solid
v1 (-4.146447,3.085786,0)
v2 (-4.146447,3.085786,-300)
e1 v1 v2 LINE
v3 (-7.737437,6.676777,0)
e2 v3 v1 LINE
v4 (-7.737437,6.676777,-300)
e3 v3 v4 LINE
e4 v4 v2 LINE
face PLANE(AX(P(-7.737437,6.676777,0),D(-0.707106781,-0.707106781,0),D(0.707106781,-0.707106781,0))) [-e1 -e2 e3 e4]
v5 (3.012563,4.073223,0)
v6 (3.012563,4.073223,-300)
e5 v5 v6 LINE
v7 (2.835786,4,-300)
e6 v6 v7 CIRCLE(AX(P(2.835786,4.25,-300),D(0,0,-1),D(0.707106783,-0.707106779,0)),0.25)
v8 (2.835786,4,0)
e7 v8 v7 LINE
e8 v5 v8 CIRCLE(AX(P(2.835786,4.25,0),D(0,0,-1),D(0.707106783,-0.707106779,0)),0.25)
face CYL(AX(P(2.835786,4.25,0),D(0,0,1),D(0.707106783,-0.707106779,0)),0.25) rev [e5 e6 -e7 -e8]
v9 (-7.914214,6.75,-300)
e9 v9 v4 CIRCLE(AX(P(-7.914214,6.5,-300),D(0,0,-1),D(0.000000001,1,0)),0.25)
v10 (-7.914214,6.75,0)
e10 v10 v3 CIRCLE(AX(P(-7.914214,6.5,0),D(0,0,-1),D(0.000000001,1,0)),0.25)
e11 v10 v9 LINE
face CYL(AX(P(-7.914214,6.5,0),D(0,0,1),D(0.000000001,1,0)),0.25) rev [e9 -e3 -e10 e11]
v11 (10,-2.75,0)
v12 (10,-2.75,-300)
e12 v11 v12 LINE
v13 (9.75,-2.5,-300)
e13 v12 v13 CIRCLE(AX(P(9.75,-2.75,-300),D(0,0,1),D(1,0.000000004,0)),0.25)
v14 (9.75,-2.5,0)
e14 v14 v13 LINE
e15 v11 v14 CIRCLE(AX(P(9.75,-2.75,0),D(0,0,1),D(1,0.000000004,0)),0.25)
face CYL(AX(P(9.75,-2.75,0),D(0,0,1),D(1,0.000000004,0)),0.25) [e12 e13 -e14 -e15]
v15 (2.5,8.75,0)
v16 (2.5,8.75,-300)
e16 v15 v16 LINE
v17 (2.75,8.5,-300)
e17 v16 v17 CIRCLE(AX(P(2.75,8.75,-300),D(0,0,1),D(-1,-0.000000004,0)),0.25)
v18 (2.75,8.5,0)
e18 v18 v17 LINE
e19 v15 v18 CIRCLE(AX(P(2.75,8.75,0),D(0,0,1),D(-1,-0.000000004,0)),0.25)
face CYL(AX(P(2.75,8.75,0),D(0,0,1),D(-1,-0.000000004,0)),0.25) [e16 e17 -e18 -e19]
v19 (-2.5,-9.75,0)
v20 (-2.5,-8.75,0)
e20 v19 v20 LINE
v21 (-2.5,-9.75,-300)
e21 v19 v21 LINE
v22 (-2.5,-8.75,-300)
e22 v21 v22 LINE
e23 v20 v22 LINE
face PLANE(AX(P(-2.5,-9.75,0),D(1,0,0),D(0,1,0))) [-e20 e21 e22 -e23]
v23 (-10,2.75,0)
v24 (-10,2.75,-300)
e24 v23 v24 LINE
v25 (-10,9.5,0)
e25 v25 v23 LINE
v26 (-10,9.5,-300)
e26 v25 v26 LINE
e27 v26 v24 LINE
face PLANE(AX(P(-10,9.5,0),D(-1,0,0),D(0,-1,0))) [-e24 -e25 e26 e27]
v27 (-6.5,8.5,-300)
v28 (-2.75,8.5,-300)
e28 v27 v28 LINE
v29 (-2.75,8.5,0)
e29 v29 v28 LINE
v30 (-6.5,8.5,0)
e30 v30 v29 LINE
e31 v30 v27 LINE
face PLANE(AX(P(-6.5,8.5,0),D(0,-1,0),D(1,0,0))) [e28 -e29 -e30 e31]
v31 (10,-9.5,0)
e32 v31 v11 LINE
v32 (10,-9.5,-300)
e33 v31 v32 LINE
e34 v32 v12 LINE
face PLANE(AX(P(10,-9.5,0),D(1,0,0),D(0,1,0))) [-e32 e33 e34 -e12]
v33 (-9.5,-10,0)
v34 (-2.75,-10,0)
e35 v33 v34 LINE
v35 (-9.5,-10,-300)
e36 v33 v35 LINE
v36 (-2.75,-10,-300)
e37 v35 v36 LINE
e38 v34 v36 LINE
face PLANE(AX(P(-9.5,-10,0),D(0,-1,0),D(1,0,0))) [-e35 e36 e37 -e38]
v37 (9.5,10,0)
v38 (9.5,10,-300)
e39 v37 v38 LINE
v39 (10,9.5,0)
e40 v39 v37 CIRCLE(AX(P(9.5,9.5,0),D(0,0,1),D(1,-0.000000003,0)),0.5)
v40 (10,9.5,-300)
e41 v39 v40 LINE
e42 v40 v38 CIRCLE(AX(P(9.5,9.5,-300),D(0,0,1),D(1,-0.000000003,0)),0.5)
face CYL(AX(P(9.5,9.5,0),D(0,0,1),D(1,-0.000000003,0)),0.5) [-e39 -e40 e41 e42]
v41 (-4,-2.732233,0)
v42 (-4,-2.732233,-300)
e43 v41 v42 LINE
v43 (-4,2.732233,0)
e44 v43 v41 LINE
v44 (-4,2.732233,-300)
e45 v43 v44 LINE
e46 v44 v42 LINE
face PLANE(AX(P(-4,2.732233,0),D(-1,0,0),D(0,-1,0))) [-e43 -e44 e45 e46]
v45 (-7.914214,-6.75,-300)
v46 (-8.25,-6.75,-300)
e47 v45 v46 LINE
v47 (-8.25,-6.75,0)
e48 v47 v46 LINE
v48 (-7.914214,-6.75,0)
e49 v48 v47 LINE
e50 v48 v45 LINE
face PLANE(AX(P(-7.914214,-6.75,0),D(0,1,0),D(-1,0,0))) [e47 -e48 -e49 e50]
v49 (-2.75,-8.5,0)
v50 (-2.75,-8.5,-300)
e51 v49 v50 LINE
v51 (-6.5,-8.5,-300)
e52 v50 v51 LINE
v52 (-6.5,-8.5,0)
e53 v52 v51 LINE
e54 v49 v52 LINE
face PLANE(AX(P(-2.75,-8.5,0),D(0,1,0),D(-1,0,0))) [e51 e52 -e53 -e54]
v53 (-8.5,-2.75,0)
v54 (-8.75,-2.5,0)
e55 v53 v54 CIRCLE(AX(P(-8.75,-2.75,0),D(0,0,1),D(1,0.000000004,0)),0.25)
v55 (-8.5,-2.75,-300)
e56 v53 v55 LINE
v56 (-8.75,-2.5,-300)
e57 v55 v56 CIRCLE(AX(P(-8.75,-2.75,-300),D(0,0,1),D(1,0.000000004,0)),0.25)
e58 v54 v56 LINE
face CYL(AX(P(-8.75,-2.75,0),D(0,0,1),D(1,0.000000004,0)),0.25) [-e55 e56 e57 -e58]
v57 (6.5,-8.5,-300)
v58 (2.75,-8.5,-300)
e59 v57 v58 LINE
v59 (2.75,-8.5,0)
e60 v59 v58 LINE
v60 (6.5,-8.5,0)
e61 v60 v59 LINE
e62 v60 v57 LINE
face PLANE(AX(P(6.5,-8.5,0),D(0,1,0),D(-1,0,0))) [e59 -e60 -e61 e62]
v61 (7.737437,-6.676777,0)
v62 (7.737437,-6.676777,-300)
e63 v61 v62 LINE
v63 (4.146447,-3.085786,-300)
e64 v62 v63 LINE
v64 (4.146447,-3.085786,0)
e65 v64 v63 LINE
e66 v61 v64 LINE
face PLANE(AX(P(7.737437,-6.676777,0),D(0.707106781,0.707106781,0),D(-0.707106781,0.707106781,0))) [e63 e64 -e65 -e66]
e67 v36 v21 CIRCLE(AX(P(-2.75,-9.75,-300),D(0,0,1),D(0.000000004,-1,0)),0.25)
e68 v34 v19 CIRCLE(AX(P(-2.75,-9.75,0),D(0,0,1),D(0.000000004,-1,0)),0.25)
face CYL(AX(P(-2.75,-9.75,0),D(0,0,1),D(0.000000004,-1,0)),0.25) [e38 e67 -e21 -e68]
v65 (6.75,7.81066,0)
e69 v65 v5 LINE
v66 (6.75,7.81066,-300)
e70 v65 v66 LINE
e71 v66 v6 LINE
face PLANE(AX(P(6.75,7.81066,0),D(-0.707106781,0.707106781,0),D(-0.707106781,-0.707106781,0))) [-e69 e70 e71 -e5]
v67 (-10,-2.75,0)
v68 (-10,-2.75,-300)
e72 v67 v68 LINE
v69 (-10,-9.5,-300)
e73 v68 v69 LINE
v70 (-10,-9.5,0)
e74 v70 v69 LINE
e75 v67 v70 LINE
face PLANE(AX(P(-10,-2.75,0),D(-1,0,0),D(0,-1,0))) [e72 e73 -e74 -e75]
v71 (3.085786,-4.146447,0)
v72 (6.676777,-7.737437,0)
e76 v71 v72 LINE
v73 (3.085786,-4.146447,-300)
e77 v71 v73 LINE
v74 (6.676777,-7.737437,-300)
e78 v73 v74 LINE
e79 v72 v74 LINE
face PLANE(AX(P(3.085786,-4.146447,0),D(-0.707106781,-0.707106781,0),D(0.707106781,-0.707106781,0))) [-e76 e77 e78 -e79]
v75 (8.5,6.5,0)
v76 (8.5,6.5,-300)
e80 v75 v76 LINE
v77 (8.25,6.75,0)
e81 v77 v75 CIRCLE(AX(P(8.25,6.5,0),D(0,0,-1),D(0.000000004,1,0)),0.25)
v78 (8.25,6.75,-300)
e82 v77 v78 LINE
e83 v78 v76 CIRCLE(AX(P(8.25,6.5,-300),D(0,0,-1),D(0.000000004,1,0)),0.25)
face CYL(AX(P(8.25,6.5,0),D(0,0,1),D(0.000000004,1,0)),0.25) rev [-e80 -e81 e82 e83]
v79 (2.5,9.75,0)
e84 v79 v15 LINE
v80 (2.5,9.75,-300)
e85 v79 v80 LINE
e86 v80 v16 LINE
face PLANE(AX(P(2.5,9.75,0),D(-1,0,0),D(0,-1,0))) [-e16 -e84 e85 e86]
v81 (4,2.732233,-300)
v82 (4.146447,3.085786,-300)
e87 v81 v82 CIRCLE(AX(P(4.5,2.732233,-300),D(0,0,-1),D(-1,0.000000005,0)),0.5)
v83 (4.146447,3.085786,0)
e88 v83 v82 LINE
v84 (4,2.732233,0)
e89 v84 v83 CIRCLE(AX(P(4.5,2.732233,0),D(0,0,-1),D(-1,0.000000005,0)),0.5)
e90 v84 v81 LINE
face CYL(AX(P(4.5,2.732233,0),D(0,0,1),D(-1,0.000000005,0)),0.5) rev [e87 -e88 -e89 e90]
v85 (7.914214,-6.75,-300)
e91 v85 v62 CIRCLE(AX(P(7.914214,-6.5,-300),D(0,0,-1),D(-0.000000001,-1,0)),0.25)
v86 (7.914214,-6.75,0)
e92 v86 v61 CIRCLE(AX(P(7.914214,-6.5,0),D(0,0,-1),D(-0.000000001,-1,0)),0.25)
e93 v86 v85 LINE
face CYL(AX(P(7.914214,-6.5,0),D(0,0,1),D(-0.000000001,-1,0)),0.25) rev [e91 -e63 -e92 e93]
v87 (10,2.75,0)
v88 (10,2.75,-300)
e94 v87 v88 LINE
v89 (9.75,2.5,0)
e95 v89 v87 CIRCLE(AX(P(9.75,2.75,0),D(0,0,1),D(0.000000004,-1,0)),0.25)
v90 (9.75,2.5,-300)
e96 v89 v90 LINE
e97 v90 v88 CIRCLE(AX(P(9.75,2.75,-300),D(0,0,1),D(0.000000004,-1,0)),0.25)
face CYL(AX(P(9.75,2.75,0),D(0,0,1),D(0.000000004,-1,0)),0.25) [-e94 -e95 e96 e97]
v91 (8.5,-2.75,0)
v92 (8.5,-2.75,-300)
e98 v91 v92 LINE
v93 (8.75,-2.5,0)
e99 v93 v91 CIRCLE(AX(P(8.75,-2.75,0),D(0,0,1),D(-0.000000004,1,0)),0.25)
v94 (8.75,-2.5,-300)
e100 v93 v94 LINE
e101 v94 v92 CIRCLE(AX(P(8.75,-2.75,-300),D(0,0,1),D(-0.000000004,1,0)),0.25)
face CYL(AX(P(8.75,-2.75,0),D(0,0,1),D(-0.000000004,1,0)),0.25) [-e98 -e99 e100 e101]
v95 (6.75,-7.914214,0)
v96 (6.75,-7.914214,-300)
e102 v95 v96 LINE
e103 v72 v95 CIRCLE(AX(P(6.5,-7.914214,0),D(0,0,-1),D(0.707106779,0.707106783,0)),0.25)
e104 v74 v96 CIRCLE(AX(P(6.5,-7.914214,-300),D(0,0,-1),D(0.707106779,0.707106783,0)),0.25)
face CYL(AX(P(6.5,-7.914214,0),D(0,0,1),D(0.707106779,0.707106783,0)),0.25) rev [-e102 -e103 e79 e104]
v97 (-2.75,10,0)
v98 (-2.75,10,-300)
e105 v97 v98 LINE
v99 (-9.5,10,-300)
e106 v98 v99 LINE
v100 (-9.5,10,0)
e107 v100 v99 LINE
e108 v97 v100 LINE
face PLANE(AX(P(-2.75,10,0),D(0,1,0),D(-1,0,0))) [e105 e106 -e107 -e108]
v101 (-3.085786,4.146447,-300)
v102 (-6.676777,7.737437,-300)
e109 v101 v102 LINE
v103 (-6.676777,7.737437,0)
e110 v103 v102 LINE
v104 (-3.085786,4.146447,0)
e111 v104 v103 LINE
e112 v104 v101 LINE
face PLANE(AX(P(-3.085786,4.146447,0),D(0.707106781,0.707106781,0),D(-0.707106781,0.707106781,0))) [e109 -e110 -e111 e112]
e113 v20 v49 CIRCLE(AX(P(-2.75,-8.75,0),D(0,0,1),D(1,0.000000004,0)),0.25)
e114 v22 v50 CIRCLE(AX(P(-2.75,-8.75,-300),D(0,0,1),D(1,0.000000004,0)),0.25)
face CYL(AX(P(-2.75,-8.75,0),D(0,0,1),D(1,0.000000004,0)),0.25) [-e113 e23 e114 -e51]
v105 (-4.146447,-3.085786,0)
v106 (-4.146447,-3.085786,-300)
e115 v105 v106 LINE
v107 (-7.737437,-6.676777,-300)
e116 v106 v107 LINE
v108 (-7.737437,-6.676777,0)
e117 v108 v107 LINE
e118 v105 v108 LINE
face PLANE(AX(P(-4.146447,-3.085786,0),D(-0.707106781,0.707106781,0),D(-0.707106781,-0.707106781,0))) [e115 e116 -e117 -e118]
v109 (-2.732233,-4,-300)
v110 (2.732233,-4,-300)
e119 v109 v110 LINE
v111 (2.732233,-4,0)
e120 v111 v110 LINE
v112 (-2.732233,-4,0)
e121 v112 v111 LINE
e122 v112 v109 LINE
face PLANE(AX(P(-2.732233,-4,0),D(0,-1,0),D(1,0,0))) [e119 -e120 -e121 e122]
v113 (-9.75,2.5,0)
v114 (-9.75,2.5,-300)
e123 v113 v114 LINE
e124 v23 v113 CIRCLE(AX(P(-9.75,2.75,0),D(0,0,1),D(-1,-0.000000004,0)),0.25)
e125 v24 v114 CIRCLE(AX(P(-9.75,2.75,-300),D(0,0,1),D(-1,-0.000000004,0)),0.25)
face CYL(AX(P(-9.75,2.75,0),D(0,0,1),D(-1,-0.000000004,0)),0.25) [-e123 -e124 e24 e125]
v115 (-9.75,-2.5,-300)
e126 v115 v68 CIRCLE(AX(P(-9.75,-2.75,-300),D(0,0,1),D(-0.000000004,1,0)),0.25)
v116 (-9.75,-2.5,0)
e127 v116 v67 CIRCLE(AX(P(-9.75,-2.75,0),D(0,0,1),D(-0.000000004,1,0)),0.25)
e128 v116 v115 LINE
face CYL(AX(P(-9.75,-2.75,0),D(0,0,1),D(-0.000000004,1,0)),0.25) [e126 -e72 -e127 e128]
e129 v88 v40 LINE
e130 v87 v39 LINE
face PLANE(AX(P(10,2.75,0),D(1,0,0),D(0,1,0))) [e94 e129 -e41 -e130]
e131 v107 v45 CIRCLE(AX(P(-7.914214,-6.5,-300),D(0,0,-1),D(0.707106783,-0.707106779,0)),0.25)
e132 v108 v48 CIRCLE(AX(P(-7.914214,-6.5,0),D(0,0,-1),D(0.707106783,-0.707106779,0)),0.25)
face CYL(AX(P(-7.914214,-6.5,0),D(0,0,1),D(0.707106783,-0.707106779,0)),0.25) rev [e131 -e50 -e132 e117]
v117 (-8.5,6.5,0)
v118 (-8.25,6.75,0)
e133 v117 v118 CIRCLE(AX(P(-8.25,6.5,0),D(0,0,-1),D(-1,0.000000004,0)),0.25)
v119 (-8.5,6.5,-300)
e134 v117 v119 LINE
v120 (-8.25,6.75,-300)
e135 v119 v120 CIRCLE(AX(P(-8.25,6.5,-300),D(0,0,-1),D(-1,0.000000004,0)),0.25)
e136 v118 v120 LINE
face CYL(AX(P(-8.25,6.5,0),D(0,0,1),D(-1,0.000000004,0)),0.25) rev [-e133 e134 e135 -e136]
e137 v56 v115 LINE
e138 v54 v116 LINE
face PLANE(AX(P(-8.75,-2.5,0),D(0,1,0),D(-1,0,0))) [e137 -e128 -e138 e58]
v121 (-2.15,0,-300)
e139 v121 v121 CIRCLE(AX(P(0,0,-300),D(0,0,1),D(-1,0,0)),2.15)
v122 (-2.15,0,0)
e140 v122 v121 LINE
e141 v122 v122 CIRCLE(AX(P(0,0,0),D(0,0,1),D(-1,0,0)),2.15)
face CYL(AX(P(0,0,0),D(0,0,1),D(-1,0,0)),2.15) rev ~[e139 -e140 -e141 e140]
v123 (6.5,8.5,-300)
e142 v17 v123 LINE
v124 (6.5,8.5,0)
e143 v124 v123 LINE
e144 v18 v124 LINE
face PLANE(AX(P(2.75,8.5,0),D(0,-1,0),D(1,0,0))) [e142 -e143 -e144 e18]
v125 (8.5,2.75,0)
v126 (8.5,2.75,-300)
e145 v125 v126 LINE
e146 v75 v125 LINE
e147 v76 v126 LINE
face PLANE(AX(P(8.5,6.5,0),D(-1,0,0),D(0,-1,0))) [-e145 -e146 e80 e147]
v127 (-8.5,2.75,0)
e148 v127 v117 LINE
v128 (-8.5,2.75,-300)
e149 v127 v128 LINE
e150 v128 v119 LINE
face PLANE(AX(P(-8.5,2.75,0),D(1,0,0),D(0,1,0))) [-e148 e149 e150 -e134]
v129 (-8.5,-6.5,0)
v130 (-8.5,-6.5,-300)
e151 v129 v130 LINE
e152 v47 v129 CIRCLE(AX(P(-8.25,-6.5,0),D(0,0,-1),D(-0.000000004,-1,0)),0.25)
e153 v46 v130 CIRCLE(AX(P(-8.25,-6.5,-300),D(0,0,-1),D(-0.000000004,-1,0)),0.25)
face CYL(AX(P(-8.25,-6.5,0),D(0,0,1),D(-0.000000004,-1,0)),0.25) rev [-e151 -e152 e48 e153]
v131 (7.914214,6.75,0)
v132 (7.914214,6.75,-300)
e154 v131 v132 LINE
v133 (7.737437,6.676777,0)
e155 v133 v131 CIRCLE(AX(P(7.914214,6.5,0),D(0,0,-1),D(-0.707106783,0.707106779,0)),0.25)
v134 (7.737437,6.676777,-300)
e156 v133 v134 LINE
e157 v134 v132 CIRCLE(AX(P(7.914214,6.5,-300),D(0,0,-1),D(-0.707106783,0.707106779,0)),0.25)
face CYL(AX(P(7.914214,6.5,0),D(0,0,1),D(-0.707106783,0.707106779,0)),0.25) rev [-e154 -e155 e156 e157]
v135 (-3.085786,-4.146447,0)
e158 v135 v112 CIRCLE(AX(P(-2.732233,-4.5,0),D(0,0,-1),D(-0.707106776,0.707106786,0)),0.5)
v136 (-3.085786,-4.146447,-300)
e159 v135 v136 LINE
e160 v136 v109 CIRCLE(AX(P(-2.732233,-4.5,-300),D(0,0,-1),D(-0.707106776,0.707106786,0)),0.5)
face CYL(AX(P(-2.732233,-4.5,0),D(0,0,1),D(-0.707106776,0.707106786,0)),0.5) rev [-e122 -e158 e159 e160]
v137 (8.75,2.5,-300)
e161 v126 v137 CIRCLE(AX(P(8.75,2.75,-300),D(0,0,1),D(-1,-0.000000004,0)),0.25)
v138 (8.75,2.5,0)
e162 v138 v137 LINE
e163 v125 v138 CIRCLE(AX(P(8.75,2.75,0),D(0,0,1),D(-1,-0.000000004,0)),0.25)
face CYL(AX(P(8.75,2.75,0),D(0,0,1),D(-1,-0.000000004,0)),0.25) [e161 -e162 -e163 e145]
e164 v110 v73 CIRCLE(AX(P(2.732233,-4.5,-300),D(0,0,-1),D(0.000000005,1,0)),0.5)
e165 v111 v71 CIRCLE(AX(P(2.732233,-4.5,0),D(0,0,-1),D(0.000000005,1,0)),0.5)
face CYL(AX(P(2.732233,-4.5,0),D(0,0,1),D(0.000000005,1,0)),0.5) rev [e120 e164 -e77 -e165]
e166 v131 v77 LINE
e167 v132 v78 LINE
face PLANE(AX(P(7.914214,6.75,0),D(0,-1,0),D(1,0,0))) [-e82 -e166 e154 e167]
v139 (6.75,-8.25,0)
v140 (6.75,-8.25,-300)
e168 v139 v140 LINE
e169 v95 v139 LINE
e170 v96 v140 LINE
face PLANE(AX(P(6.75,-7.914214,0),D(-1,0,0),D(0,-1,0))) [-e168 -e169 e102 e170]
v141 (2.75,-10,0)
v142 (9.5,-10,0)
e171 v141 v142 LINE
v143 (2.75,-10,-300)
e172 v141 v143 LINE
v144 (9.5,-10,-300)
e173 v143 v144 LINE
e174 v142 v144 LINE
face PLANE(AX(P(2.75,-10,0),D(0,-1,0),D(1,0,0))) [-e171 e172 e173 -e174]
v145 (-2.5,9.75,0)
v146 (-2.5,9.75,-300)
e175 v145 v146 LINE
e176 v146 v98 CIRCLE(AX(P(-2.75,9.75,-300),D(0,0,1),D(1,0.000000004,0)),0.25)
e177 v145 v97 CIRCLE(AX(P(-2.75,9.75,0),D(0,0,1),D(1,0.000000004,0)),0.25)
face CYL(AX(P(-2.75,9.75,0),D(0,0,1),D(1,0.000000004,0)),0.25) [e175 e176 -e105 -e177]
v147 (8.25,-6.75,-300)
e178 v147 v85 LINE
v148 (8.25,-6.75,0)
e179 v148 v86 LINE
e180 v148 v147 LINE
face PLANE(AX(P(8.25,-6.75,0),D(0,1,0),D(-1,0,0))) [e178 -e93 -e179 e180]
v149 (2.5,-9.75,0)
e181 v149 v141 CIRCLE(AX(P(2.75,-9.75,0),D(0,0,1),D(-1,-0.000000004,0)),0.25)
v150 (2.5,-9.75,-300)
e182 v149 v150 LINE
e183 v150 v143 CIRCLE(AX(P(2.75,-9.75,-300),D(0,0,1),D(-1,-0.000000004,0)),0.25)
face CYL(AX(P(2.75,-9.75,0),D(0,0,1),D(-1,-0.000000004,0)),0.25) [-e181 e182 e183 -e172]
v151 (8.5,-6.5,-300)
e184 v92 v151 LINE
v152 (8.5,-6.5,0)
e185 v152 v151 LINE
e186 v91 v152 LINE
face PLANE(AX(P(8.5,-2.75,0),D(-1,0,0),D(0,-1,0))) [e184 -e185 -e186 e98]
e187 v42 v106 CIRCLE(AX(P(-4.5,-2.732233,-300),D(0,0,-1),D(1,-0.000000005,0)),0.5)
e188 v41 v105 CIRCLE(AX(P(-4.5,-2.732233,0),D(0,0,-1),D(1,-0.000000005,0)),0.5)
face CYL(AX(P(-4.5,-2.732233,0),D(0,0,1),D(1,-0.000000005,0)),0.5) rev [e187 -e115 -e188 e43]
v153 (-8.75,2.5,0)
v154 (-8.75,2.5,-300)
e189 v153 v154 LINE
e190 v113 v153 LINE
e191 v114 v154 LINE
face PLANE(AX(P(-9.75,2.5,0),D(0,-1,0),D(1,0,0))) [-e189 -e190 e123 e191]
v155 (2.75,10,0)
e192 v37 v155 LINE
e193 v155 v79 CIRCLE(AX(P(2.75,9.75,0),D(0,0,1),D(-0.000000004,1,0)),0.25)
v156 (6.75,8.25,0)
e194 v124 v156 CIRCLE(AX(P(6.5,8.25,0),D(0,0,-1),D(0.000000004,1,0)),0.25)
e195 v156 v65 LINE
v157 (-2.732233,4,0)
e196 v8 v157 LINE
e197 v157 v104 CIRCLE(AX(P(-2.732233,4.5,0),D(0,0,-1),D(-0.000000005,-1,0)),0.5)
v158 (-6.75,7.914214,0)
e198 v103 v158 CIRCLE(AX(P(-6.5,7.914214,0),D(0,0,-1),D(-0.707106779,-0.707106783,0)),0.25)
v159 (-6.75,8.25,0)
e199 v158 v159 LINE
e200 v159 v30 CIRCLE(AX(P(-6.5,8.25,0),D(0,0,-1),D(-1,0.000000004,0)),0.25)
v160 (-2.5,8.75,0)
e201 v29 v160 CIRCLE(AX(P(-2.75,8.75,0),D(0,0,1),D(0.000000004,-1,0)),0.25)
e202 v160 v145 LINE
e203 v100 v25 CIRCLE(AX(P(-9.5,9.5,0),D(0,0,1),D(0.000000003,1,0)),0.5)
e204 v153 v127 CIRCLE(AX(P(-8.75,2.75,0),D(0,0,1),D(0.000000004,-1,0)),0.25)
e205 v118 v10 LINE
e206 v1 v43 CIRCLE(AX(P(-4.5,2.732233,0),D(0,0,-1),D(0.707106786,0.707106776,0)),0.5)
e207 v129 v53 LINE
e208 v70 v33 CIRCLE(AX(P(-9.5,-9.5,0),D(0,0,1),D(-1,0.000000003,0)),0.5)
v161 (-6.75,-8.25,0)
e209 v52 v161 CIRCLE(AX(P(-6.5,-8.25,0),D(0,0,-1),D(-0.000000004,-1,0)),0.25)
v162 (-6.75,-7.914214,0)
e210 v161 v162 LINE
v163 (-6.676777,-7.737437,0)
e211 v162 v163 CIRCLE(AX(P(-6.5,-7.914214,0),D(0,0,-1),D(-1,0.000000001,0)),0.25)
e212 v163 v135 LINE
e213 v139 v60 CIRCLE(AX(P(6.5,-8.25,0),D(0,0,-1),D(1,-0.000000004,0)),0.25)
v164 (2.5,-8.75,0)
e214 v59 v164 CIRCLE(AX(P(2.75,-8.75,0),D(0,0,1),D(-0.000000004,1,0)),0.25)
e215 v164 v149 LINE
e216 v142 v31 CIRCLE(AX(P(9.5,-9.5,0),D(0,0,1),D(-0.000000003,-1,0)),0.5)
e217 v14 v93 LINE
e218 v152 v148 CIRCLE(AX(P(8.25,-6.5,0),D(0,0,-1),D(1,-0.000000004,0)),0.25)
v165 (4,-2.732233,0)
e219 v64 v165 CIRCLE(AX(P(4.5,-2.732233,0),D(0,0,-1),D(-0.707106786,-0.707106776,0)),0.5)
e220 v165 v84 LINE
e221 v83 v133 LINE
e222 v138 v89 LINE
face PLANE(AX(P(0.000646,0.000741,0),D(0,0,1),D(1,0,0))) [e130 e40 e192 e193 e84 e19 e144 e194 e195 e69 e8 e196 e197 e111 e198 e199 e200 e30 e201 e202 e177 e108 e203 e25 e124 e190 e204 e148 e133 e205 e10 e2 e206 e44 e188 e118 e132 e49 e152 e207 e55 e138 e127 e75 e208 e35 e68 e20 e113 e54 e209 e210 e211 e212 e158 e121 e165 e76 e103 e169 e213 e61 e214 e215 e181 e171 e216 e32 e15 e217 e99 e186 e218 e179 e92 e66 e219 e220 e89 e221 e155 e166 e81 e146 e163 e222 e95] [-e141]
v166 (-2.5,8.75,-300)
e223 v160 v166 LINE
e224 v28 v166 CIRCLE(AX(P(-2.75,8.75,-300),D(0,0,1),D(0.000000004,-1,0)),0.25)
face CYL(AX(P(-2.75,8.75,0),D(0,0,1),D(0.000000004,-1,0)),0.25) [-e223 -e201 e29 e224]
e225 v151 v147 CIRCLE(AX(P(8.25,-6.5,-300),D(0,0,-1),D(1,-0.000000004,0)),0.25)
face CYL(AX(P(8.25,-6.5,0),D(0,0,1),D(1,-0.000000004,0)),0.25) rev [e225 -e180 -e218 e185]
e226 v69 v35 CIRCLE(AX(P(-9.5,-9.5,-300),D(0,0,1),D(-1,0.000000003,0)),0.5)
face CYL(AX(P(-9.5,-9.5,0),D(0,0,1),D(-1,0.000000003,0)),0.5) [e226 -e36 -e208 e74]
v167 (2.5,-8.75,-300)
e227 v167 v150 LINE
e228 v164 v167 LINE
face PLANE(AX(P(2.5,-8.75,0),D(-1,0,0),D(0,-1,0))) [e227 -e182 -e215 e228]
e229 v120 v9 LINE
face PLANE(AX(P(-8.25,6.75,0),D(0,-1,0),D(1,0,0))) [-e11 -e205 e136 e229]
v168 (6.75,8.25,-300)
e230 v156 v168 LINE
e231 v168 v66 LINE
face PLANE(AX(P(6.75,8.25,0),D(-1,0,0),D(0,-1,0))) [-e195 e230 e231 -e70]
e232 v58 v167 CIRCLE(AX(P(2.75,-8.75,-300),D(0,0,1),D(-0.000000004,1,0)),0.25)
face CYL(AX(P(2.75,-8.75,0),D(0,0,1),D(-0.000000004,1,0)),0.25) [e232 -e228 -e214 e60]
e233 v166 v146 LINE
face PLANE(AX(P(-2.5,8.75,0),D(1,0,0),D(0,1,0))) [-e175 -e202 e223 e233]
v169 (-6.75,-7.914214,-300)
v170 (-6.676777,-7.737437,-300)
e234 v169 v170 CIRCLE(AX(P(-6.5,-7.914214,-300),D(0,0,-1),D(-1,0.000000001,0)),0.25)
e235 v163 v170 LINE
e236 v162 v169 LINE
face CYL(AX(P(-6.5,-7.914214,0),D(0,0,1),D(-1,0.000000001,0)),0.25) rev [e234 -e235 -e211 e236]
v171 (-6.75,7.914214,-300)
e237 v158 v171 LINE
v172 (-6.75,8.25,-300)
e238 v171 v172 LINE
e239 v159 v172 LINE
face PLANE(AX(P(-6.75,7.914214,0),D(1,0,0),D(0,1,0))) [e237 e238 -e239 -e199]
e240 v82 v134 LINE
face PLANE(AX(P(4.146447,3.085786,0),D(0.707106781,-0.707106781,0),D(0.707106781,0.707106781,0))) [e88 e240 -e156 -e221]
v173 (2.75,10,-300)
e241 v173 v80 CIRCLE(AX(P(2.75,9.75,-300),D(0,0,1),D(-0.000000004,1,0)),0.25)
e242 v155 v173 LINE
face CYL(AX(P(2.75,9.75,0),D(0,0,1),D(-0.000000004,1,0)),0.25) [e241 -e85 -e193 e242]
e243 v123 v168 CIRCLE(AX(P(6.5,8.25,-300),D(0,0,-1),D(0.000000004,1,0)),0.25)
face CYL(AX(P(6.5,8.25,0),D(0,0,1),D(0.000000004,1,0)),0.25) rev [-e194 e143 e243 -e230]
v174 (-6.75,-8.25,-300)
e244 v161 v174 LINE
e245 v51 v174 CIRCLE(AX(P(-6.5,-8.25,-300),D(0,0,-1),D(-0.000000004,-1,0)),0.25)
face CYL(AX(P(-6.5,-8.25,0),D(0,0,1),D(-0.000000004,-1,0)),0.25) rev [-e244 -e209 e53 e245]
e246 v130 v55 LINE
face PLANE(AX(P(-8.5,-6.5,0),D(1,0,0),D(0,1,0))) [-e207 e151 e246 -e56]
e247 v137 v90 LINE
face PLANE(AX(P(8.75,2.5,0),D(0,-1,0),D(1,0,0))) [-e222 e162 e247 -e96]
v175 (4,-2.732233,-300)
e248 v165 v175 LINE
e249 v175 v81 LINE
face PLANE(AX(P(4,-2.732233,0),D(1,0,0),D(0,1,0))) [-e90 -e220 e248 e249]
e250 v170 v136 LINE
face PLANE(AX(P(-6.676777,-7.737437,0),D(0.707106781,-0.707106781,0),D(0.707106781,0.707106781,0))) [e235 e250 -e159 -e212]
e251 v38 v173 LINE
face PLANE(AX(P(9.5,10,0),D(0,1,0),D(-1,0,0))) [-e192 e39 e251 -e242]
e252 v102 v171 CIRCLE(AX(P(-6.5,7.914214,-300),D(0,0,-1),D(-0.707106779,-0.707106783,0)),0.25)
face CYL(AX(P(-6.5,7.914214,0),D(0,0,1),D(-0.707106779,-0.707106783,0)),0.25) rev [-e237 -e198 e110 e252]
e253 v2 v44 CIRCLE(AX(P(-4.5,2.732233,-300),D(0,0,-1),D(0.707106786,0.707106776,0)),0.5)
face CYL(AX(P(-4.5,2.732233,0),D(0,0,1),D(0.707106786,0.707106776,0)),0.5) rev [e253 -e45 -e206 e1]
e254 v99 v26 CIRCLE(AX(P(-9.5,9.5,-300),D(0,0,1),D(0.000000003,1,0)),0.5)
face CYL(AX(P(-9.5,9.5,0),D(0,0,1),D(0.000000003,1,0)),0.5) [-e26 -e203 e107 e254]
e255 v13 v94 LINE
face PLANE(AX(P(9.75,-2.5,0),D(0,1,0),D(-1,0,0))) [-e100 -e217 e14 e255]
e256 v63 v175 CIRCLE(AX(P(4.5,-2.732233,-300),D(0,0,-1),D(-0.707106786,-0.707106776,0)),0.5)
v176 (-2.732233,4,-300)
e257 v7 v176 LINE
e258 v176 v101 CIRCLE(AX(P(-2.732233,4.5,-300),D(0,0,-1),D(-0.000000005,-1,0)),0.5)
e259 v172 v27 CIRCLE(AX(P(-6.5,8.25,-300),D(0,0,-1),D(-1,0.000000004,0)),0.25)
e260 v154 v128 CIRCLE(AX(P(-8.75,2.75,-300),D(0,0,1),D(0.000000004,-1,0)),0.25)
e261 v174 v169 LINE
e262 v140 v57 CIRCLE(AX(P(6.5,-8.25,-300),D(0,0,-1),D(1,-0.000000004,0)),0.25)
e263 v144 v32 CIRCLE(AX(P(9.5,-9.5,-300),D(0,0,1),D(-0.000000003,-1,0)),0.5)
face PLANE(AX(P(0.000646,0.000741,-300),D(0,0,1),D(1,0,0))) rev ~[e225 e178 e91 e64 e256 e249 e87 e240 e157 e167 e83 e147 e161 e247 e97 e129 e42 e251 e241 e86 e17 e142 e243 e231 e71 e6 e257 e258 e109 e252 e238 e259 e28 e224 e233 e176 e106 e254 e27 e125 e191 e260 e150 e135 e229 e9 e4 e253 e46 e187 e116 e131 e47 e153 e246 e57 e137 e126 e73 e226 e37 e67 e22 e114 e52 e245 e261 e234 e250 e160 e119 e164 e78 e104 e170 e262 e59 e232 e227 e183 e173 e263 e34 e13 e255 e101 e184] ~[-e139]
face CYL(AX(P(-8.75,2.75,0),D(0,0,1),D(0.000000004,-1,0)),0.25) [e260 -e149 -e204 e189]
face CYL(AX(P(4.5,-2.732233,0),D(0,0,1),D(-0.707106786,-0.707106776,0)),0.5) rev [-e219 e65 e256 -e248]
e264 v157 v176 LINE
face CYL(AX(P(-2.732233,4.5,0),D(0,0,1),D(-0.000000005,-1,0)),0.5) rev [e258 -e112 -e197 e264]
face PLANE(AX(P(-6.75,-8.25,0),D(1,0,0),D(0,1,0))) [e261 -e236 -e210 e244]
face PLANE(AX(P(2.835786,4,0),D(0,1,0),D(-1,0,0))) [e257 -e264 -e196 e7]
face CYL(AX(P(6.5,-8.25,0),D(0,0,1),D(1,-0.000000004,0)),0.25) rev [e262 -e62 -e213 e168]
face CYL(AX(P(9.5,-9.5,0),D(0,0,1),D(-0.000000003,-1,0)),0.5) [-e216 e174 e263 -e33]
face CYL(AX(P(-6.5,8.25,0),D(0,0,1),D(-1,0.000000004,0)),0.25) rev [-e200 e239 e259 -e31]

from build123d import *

# Parameters (mm, degrees)
SKETCH_1_R      = 2.15
EXTRUDE_1_DEPTH = 300


with BuildPart() as part:
    # Эскиз1 → Бобышка-Вытянуть1 (new body)
    with BuildSketch(Plane.XY):
        with BuildLine():
            Line((-10, -2.75), (-10, -9.5))
            ThreePointArc((-10, -9.5), (-9.853553391, -9.853553391), (-9.5, -10))
            Line((-9.5, -10), (-2.75, -10))
            ThreePointArc((-2.75, -10), (-2.573223305, -9.926776695), (-2.5, -9.75))
            Line((-2.5, -9.75), (-2.5, -8.75))
            ThreePointArc((-2.5, -8.75), (-2.573223305, -8.573223305), (-2.75, -8.5))
            Line((-2.75, -8.5), (-6.5, -8.5))
            ThreePointArc((-6.5, -8.5), (-6.676776695, -8.426776695), (-6.75, -8.25))
            Line((-6.75, -8.25), (-6.75, -7.914213562))
            ThreePointArc((-6.75, -7.914213562), (-6.730969883, -7.818542704), (-6.676776695, -7.737436867))
            Line((-6.676776695, -7.737436867), (-3.085786438, -4.146446609))
            ThreePointArc((-3.085786438, -4.146446609), (-2.923574763, -4.038060234), (-2.732233047, -4))
            Line((-2.732233047, -4), (2.732233047, -4))
            ThreePointArc((2.732233047, -4), (2.923574763, -4.038060234), (3.085786438, -4.146446609))
            Line((3.085786438, -4.146446609), (6.676776695, -7.737436867))
            ThreePointArc((6.676776695, -7.737436867), (6.730969883, -7.818542704), (6.75, -7.914213562))
            Line((6.75, -7.914213562), (6.75, -8.25))
            ThreePointArc((6.75, -8.25), (6.676776695, -8.426776695), (6.5, -8.5))
            Line((6.5, -8.5), (2.75, -8.5))
            ThreePointArc((2.75, -8.5), (2.573223305, -8.573223305), (2.5, -8.75))
            Line((2.5, -8.75), (2.5, -9.75))
            ThreePointArc((2.5, -9.75), (2.573223305, -9.926776695), (2.75, -10))
            Line((2.75, -10), (9.5, -10))
            ThreePointArc((9.5, -10), (9.853553391, -9.853553391), (10, -9.5))
            Line((10, -9.5), (10, -2.75))
            ThreePointArc((10, -2.75), (9.926776695, -2.573223305), (9.75, -2.5))
            Line((9.75, -2.5), (8.75, -2.5))
            ThreePointArc((8.75, -2.5), (8.573223305, -2.573223305), (8.5, -2.75))
            Line((8.5, -2.75), (8.5, -6.5))
            ThreePointArc((8.5, -6.5), (8.426776695, -6.676776695), (8.25, -6.75))
            Line((8.25, -6.75), (7.914213562, -6.75))
            ThreePointArc((7.914213562, -6.75), (7.818542704, -6.730969883), (7.737436867, -6.676776695))
            Line((7.737436867, -6.676776695), (4.146446609, -3.085786438))
            ThreePointArc((4.146446609, -3.085786438), (4.038060234, -2.923574763), (4, -2.732233047))
            Line((4, -2.732233047), (4, 2.732233047))
            ThreePointArc((4, 2.732233047), (4.038060234, 2.923574763), (4.146446609, 3.085786438))
            Line((4.146446609, 3.085786438), (7.737436867, 6.676776695))
            ThreePointArc((7.737436867, 6.676776695), (7.818542704, 6.730969883), (7.914213562, 6.75))
            Line((7.914213562, 6.75), (8.25, 6.75))
            ThreePointArc((8.25, 6.75), (8.426776695, 6.676776695), (8.5, 6.5))
            Line((8.5, 6.5), (8.5, 2.75))
            ThreePointArc((8.5, 2.75), (8.573223305, 2.573223305), (8.75, 2.5))
            Line((8.75, 2.5), (9.75, 2.5))
            ThreePointArc((9.75, 2.5), (9.926776695, 2.573223305), (10, 2.75))
            Line((10, 2.75), (10, 9.5))
            ThreePointArc((10, 9.5), (9.853553391, 9.853553391), (9.5, 10))
            Line((9.5, 10), (2.75, 10))
            ThreePointArc((2.75, 10), (2.573223305, 9.926776695), (2.5, 9.75))
            Line((2.5, 9.75), (2.5, 8.75))
            ThreePointArc((2.5, 8.75), (2.573223305, 8.573223305), (2.75, 8.5))
            Line((2.75, 8.5), (6.5, 8.5))
            ThreePointArc((6.5, 8.5), (6.676776695, 8.426776695), (6.75, 8.25))
            Line((6.75, 8.25), (6.75, 7.810660172))
            Line((6.75, 7.810660172), (3.012563133, 4.073223305))
            ThreePointArc((3.012563133, 4.073223305), (2.931457296, 4.019030117), (2.835786438, 4))
            Line((2.835786438, 4), (-2.732233047, 4))
            ThreePointArc((-2.732233047, 4), (-2.923574763, 4.038060234), (-3.085786438, 4.146446609))
            Line((-3.085786438, 4.146446609), (-6.676776695, 7.737436867))
            ThreePointArc((-6.676776695, 7.737436867), (-6.730969883, 7.818542704), (-6.75, 7.914213562))
            Line((-6.75, 7.914213562), (-6.75, 8.25))
            ThreePointArc((-6.75, 8.25), (-6.676776695, 8.426776695), (-6.5, 8.5))
            Line((-6.5, 8.5), (-2.75, 8.5))
            ThreePointArc((-2.75, 8.5), (-2.573223305, 8.573223305), (-2.5, 8.75))
            Line((-2.5, 8.75), (-2.5, 9.75))
            ThreePointArc((-2.5, 9.75), (-2.573223305, 9.926776695), (-2.75, 10))
            Line((-2.75, 10), (-9.5, 10))
            ThreePointArc((-9.5, 10), (-9.853553391, 9.853553391), (-10, 9.5))
            Line((-10, 9.5), (-10, 2.75))
            ThreePointArc((-10, 2.75), (-9.926776695, 2.573223305), (-9.75, 2.5))
            Line((-9.75, 2.5), (-8.75, 2.5))
            ThreePointArc((-8.75, 2.5), (-8.573223305, 2.573223305), (-8.5, 2.75))
            Line((-8.5, 2.75), (-8.5, 6.5))
            ThreePointArc((-8.5, 6.5), (-8.426776695, 6.676776695), (-8.25, 6.75))
            Line((-8.25, 6.75), (-7.914213562, 6.75))
            ThreePointArc((-7.914213562, 6.75), (-7.818542704, 6.730969883), (-7.737436867, 6.676776695))
            Line((-7.737436867, 6.676776695), (-4.146446609, 3.085786438))
            ThreePointArc((-4.146446609, 3.085786438), (-4.038060234, 2.923574763), (-4, 2.732233047))
            Line((-4, 2.732233047), (-4, -2.732233047))
            ThreePointArc((-4, -2.732233047), (-4.038060234, -2.923574763), (-4.146446609, -3.085786438))
            Line((-4.146446609, -3.085786438), (-7.737436867, -6.676776695))
            ThreePointArc((-7.737436867, -6.676776695), (-7.818542704, -6.730969883), (-7.914213562, -6.75))
            Line((-7.914213562, -6.75), (-8.25, -6.75))
            ThreePointArc((-8.25, -6.75), (-8.426776695, -6.676776695), (-8.5, -6.5))
            Line((-8.5, -6.5), (-8.5, -2.75))
            ThreePointArc((-8.5, -2.75), (-8.573223305, -2.573223305), (-8.75, -2.5))
            Line((-8.75, -2.5), (-9.75, -2.5))
            ThreePointArc((-9.75, -2.5), (-9.926776695, -2.573223305), (-10, -2.75))
        make_face()
        with Locations(Location((0, 0, 0), (0, 0, 180))):
            Circle(SKETCH_1_R, mode=Mode.SUBTRACT)
    extrude(amount=-EXTRUDE_1_DEPTH)


solid = part.part
